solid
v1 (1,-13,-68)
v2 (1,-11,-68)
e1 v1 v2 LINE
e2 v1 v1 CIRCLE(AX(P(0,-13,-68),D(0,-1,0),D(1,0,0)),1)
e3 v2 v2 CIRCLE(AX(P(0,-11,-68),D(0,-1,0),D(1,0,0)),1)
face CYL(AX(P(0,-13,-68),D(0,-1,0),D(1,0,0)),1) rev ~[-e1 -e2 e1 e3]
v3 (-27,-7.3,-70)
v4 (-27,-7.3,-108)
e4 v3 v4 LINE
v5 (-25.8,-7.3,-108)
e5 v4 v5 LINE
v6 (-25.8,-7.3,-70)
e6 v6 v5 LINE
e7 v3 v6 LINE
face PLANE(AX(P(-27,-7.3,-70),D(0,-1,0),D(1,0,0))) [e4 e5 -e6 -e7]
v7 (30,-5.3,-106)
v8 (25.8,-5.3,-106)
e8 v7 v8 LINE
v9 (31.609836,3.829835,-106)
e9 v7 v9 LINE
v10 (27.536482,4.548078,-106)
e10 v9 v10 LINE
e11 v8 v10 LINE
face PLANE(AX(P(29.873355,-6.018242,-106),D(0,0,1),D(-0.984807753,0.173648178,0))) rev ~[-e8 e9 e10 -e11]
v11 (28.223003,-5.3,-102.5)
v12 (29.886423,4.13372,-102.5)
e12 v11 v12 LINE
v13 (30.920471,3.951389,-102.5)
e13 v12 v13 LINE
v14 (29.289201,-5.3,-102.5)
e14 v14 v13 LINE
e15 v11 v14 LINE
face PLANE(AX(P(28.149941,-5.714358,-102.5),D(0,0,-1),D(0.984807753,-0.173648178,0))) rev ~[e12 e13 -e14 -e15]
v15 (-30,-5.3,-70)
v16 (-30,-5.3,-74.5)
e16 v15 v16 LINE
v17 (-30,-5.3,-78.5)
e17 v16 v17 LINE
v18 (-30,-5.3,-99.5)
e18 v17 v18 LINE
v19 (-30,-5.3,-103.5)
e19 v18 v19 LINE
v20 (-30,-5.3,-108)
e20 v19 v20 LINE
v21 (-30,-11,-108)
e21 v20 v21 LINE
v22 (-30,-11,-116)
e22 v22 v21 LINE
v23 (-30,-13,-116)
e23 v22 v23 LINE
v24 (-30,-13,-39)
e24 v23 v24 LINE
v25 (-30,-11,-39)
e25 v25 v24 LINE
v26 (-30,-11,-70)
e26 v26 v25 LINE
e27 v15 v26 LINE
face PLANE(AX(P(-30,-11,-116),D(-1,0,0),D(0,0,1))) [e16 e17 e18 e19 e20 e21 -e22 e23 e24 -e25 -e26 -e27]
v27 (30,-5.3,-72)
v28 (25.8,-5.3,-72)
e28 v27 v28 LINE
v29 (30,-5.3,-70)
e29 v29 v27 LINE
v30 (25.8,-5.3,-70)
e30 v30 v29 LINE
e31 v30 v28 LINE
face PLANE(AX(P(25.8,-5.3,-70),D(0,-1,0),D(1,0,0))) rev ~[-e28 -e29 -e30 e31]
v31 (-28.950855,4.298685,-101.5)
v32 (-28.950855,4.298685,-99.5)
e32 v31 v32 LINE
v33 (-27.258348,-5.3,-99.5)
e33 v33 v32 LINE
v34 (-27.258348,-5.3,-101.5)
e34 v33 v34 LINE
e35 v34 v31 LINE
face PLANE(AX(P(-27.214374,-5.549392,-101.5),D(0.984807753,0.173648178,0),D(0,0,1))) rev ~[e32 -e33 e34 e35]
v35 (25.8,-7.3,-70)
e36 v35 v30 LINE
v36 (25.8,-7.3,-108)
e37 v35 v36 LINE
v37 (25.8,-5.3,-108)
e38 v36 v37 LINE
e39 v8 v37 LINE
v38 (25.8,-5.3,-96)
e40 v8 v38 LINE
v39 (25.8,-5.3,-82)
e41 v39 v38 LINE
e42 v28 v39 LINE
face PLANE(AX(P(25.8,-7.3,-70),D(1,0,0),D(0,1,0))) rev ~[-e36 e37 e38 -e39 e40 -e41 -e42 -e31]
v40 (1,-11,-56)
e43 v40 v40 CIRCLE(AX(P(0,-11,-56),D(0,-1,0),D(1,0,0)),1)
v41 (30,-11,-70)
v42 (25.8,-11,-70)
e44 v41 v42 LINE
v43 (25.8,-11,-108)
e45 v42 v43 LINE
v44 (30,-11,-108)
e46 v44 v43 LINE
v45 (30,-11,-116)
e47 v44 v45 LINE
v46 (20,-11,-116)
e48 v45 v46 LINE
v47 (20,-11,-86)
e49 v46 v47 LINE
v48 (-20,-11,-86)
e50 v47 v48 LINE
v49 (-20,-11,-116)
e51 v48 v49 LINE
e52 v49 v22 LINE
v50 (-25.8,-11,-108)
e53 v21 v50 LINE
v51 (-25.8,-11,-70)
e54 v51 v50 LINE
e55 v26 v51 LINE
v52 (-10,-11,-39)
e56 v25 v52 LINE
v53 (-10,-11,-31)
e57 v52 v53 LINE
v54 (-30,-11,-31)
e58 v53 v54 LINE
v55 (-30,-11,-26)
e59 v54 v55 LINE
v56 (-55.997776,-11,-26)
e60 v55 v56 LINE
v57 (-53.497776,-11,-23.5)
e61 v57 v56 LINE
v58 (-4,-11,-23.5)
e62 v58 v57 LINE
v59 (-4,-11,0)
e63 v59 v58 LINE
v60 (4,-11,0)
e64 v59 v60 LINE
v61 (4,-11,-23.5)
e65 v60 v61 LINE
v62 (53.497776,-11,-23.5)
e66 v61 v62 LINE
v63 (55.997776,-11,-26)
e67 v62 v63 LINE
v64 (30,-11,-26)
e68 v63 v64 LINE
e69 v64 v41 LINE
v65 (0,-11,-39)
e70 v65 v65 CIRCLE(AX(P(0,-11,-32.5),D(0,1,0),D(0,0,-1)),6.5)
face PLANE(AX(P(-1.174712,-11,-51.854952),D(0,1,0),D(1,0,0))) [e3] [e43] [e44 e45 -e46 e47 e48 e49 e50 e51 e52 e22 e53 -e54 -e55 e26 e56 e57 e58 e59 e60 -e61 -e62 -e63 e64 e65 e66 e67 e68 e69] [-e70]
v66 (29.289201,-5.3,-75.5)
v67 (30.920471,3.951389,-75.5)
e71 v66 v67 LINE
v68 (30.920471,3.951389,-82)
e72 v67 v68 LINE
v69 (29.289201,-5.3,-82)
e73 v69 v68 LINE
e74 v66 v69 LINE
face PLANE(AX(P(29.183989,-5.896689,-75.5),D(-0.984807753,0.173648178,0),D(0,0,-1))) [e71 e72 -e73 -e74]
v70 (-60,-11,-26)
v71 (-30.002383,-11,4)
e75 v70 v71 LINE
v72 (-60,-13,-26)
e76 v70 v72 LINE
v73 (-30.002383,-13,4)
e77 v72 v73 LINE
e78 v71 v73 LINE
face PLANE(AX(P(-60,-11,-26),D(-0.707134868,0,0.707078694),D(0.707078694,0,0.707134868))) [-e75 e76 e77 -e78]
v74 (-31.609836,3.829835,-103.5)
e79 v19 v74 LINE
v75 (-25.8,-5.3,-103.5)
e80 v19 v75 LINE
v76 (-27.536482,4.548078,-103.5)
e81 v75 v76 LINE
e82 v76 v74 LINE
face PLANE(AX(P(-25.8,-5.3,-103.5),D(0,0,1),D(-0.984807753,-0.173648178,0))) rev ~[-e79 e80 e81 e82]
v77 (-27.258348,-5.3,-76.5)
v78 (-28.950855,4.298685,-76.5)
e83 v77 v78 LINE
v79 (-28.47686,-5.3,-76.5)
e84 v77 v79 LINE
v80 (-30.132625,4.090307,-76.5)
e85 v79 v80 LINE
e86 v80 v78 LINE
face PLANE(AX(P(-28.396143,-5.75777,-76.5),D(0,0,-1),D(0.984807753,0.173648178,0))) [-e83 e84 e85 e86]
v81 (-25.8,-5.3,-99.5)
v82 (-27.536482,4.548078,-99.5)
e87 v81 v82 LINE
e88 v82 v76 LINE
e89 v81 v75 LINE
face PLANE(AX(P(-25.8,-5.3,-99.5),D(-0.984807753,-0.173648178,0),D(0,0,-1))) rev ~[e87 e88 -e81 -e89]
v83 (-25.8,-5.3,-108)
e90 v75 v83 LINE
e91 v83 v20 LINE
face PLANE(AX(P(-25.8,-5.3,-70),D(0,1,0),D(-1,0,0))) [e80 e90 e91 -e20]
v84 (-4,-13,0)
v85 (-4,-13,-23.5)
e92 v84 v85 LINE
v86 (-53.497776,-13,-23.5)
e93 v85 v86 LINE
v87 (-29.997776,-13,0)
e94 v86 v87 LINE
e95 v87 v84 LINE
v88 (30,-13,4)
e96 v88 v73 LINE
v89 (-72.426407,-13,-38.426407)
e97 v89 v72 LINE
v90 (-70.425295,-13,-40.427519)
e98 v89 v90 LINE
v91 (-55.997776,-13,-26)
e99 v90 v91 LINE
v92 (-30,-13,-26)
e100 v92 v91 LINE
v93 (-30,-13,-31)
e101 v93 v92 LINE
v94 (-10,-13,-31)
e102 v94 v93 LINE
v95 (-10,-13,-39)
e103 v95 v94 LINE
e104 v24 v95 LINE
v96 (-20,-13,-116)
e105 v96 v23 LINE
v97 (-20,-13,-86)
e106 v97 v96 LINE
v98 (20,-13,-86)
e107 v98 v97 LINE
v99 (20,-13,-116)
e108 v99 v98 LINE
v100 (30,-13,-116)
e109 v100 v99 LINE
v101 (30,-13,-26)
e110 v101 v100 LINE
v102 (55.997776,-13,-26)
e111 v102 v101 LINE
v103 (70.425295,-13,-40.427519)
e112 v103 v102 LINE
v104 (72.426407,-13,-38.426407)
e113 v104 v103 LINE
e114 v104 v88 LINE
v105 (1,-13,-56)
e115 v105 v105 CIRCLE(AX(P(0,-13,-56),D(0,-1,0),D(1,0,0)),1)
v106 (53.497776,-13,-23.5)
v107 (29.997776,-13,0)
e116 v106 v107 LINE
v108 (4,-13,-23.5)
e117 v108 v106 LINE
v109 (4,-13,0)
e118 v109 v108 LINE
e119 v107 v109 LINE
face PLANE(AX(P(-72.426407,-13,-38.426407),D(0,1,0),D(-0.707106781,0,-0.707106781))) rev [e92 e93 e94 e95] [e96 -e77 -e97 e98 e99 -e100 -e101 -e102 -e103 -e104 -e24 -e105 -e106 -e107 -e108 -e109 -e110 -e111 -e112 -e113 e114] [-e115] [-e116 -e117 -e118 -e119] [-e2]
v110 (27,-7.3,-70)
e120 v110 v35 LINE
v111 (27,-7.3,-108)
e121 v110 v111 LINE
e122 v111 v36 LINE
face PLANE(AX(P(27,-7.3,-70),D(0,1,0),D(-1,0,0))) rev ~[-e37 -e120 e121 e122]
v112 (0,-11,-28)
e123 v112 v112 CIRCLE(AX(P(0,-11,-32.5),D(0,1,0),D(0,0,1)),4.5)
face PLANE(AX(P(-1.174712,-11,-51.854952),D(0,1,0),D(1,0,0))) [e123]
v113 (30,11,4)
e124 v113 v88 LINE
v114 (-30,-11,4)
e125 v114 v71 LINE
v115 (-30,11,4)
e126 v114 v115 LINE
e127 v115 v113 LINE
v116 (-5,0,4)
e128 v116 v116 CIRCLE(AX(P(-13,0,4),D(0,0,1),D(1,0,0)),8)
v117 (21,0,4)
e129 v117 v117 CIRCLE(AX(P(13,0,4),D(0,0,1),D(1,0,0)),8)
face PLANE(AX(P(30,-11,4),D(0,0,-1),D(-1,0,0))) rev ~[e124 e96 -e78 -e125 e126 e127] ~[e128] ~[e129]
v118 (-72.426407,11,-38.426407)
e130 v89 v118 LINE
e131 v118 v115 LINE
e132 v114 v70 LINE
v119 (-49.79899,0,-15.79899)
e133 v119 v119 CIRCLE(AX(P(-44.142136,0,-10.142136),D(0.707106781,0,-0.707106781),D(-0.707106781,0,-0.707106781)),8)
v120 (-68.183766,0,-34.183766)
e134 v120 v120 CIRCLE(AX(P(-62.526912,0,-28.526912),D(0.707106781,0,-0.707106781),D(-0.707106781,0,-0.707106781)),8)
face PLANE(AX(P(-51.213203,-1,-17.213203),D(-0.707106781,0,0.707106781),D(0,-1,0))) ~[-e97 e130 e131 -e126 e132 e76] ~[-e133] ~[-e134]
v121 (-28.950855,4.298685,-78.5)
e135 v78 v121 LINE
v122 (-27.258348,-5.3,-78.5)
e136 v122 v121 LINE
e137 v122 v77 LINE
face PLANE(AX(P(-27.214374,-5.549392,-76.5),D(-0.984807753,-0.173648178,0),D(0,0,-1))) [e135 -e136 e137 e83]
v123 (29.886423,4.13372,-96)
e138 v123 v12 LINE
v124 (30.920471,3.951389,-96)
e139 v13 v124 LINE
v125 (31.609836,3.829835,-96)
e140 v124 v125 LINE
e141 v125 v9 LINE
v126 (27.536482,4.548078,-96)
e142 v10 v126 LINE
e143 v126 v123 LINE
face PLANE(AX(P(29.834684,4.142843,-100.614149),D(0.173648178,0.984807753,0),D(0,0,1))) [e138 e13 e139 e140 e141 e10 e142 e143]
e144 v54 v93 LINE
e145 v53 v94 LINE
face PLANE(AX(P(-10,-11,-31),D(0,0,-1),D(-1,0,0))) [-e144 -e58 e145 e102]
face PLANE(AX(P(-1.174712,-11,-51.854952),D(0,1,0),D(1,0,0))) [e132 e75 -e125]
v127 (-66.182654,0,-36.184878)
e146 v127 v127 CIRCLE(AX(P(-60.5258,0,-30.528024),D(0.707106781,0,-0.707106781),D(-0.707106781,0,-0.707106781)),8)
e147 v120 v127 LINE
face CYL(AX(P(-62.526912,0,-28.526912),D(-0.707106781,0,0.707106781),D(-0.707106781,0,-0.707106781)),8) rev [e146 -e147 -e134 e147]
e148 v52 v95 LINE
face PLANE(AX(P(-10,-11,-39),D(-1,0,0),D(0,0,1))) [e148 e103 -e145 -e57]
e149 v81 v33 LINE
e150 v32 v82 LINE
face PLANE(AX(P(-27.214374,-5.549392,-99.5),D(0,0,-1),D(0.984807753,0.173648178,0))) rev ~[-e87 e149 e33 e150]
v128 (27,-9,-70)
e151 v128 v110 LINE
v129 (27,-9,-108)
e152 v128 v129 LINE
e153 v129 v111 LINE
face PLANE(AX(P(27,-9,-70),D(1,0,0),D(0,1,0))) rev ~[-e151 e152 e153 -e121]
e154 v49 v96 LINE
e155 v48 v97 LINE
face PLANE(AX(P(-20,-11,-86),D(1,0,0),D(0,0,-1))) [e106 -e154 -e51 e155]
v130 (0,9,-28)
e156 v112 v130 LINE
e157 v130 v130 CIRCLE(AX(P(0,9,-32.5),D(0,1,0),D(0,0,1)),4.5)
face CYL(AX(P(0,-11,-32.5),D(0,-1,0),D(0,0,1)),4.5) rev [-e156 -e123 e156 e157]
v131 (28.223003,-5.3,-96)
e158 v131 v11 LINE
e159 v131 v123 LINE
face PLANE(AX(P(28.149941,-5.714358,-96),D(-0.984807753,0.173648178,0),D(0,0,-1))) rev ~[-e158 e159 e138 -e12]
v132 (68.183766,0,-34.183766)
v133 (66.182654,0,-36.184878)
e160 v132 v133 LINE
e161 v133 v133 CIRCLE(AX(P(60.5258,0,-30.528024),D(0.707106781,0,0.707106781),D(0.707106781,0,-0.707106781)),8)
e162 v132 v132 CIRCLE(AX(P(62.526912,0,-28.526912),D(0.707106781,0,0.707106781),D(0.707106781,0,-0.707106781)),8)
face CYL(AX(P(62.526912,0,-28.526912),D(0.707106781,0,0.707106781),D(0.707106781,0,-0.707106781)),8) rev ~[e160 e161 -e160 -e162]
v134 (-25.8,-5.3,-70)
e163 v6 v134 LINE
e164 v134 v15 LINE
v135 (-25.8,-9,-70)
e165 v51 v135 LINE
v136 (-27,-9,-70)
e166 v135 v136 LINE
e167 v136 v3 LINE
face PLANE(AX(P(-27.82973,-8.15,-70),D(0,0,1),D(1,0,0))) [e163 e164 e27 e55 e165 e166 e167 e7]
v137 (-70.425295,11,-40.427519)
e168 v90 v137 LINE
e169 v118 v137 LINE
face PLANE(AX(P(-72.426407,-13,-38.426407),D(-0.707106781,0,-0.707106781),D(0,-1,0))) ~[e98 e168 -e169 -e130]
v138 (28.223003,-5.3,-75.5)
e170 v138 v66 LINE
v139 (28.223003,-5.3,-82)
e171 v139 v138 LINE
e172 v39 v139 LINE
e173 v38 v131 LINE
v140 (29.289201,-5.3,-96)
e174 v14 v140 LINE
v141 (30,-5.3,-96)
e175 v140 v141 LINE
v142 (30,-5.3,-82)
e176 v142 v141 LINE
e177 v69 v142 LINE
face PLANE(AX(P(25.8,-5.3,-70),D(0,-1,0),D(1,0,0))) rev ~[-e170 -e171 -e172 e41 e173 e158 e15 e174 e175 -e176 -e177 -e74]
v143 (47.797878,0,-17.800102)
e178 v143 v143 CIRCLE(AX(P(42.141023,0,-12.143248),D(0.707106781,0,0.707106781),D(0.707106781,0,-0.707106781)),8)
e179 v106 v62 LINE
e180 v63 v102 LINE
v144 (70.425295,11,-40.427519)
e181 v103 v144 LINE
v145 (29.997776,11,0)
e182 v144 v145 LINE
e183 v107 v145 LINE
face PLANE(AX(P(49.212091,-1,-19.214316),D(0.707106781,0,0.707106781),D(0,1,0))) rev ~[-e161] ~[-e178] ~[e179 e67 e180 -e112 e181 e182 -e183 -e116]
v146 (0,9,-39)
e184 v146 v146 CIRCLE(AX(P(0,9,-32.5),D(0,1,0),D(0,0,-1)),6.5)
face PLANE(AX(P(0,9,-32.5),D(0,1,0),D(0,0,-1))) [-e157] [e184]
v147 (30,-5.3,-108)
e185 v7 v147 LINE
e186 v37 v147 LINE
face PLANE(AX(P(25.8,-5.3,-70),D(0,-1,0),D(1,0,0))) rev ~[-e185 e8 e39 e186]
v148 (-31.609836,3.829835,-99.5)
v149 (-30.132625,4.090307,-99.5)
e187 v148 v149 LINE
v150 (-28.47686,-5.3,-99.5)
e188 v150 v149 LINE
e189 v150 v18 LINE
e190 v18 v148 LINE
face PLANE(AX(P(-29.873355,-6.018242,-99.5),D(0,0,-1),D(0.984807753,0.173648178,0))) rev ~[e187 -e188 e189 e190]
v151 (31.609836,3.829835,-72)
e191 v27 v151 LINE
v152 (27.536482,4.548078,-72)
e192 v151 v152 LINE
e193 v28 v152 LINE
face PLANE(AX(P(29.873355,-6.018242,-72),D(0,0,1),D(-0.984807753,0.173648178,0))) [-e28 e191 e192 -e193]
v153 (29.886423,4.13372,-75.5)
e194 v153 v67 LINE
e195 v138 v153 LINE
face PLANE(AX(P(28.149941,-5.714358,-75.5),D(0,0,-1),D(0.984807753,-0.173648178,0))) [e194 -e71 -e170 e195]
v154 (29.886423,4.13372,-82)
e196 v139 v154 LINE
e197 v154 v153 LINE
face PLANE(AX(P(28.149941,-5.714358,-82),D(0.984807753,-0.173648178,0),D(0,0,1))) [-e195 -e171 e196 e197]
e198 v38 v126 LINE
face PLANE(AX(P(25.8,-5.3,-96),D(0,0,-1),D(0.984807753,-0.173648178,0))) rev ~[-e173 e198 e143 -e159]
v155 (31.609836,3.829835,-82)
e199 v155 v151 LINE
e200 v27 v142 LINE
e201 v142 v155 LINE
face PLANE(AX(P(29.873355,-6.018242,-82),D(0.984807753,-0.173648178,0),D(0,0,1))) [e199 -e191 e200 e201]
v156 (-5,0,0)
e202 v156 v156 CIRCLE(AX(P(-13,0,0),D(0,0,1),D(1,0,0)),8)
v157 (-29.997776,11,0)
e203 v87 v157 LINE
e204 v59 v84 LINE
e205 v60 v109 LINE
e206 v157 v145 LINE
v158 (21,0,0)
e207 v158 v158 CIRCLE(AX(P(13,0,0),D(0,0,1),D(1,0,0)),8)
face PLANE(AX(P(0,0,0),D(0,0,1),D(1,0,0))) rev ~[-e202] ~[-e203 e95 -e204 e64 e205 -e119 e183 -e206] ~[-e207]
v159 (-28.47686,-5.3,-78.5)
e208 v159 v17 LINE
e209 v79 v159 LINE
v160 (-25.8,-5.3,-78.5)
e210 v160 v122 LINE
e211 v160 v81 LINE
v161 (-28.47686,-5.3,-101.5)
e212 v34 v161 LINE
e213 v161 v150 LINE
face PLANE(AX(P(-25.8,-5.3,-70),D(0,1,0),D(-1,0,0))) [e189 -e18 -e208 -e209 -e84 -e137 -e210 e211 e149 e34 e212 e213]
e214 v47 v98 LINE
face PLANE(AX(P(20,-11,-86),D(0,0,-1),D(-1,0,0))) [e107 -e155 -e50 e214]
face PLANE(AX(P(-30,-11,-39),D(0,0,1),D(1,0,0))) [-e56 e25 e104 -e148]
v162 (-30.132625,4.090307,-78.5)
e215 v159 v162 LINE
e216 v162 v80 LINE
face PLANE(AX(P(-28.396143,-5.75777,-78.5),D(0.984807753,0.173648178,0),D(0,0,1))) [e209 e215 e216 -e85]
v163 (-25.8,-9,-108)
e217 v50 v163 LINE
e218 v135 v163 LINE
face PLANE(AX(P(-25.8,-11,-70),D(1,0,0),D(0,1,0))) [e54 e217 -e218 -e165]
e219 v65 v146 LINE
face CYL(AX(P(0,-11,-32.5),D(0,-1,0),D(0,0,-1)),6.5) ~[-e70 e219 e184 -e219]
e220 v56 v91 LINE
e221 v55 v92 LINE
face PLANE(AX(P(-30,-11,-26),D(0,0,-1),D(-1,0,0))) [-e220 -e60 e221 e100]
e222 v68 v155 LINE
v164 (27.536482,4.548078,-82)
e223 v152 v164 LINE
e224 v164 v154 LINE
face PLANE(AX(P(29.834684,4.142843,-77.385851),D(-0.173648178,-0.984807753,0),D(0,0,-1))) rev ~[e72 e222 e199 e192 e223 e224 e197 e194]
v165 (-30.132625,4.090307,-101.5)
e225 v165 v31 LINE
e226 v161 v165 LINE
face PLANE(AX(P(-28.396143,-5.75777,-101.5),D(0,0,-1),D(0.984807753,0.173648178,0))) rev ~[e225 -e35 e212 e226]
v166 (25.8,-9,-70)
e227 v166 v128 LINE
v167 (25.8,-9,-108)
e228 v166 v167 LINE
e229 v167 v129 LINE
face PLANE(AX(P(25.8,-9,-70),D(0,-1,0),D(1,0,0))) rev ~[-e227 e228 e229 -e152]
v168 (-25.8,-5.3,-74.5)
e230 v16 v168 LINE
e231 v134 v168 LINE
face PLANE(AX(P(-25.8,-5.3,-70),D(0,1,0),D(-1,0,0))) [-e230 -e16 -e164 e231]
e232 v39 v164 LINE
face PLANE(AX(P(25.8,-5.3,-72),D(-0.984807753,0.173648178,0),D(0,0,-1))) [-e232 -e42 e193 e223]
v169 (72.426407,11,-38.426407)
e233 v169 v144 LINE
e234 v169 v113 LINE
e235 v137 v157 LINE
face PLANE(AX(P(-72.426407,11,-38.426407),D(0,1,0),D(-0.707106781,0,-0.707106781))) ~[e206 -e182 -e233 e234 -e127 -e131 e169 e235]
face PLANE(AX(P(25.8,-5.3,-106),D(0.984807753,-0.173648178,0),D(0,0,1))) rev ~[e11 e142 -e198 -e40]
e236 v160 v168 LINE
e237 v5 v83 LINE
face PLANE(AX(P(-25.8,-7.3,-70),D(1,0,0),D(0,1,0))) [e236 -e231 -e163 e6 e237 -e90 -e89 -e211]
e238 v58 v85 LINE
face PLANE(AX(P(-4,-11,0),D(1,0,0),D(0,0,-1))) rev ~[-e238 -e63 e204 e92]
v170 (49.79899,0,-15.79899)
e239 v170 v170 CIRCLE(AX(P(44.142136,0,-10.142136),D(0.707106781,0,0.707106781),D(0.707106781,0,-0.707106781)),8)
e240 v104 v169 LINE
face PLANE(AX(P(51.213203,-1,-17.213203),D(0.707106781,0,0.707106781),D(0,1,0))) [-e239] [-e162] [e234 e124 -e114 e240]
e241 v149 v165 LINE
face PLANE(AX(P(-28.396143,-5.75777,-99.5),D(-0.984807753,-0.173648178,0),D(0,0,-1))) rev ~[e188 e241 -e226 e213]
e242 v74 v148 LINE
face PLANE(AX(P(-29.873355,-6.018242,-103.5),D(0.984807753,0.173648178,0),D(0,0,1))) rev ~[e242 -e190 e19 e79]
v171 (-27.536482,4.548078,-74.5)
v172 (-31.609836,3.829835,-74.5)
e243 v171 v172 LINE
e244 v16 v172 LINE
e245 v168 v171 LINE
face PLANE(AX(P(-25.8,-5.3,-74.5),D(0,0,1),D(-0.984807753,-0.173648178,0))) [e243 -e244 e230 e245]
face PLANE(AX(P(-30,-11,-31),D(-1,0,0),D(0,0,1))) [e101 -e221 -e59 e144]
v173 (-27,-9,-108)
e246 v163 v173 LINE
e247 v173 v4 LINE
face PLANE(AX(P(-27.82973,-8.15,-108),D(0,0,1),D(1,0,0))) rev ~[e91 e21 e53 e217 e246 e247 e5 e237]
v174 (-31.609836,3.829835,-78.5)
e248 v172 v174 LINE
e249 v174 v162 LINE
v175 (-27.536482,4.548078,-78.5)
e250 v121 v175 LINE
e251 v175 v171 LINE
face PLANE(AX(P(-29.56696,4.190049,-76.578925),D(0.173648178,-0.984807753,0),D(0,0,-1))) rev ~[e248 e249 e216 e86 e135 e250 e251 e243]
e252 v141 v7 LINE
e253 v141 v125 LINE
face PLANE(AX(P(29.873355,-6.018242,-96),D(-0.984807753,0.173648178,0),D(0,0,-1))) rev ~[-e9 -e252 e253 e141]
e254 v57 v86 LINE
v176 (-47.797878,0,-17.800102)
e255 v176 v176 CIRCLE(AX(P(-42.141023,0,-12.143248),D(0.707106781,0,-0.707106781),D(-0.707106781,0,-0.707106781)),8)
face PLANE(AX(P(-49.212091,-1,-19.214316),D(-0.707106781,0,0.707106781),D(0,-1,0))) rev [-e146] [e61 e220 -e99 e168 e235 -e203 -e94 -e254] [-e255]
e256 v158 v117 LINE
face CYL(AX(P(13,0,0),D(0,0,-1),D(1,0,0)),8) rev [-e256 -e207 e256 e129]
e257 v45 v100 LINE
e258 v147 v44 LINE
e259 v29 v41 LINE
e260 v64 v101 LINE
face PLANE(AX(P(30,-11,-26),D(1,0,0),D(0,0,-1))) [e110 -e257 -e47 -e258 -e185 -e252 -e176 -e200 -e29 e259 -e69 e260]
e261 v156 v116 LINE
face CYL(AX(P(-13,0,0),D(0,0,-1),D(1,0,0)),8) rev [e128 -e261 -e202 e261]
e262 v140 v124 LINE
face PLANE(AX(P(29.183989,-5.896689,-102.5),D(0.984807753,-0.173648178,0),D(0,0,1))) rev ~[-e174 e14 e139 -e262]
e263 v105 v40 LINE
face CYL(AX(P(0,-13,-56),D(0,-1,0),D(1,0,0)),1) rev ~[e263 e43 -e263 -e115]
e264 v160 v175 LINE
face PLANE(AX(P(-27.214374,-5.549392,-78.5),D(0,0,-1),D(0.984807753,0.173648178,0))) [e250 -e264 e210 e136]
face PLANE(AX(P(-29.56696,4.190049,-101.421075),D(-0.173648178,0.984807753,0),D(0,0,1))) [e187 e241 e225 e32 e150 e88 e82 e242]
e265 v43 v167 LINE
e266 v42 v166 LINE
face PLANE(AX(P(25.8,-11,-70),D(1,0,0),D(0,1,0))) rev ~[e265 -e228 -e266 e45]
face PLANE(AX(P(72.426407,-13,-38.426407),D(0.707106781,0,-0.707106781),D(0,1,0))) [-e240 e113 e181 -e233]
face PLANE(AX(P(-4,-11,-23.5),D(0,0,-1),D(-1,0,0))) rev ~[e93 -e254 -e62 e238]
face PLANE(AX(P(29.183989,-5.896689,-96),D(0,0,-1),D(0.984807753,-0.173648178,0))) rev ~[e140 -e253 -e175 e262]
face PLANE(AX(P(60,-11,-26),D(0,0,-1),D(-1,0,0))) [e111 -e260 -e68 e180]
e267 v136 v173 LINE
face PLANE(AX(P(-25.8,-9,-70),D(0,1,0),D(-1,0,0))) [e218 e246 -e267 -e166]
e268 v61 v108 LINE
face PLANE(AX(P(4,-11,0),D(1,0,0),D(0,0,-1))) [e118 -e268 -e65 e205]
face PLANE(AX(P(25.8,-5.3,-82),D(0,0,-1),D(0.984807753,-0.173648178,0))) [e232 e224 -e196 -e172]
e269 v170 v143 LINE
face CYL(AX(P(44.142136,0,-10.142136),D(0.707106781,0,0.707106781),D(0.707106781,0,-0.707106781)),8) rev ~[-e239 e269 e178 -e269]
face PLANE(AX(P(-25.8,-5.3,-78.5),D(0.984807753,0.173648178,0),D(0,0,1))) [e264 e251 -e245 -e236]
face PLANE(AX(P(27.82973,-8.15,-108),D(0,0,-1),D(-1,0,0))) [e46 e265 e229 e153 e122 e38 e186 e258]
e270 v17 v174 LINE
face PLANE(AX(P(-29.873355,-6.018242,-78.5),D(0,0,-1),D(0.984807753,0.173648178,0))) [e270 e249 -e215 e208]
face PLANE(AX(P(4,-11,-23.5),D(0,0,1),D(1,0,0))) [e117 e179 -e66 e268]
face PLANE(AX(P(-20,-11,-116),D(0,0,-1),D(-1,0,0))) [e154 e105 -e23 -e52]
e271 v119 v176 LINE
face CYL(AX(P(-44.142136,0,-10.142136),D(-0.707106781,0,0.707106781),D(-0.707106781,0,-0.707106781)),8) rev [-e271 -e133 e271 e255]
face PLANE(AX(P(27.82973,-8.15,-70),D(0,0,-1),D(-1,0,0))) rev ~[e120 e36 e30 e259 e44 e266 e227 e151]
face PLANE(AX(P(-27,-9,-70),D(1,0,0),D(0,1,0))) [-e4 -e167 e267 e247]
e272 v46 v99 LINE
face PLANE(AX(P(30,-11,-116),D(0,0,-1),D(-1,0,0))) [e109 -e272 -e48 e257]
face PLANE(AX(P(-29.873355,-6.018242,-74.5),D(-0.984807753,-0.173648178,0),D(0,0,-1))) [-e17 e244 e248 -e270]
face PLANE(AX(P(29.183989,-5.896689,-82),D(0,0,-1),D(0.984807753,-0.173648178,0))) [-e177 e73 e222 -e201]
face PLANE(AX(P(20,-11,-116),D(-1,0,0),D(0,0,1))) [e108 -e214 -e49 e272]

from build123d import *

# Parameters (mm, degrees)
SKETCH1_W           = 60
SKETCH1_H           = 22
SKETCH1_R           = 8
BOSS_EXTRUDE1_DEPTH = 4
BOSS_EXTRUDE2_DEPTH = 2
BOSS_EXTRUDE3_START = -70
BOSS_EXTRUDE3_DEPTH = 38
BOSS_EXTRUDE5_DEPTH = 10
BOSS_EXTRUDE6_DEPTH = 10
SKETCH10_R          = 1
CUT_EXTRUDE1_DEPTH  = 4
SKETCH12_W          = 24
SKETCH12_H          = 60
SKETCH12_R          = 8
BOSS_EXTRUDE7_DEPTH = 2.83
SKETCH13_R          = 6.5
SKETCH13_R_2        = 4.5
BOSS_EXTRUDE8_DEPTH = 20


with BuildPart() as part:
    # Sketch1 → Boss-Extrude1 (new body)
    with BuildSketch(Plane.XY):
        Rectangle(SKETCH1_W, SKETCH1_H)
        with Locations((-13, 0)):
            Circle(SKETCH1_R, mode=Mode.SUBTRACT)
        with Locations((13, 0)):
            Circle(SKETCH1_R, mode=Mode.SUBTRACT)
    extrude(amount=BOSS_EXTRUDE1_DEPTH)

    # Sketch2 → Boss-Extrude2 (add)
    with BuildSketch(Plane(origin=(0, -11, 0), x_dir=(-1, 0, 0), z_dir=(0, -1, 0))):
        Polygon((-30, 116), (-20, 116), (-20, 86), (20, 86), (20, 116), (30, 116), (30, 39), (10, 39), (10, 31), (30, 31), (30, 26), (60, 26), (30.002383175, -4), (30, -4), (-30, -4), (-60, 26), (-30, 26), align=None)
        Polygon((-53.5, 23.5), (-30, 0), (-4, 0), (-4, 23.5), align=None, mode=Mode.SUBTRACT)
        Polygon((53.49813318, 23.5), (30, 0), (4, 0), (4, 23.5), align=None, mode=Mode.SUBTRACT)
    extrude(amount=BOSS_EXTRUDE2_DEPTH)

    # Sketch4 → Boss-Extrude3 (add)
    with BuildSketch(Plane.XY.offset(BOSS_EXTRUDE3_START)):
        Polygon((-25.8, -11), (-25.8, -9), (-27, -9), (-27, -7.3), (-25.8, -7.3), (-25.8, -5.3), (-30, -5.3), (-30, -11), align=None)
        Polygon((30, -5.3), (30, -11), (25.8, -11), (25.8, -9), (27, -9), (27, -7.3), (25.8, -7.3), (25.8, -5.3), align=None)
    extrude(amount=-BOSS_EXTRUDE3_DEPTH)

    # Sketch7 → Boss-Extrude5 (add)
    with BuildSketch(Plane(origin=(0.128388188, -0.728125596, 0), x_dir=(0, 0, 1), z_dir=(-0.17364817766693402, 0.9848077530122075, 0))):
        Polygon((-74.5, -26.328375369), (-74.5, -30.464567932), (-78.5, -30.464567932), (-78.5, -28.964567932), (-76.5, -28.964567932), (-76.5, -27.764567932), (-78.5, -27.764567932), (-78.5, -26.328375369), align=None)
        Polygon((-101.5, -27.764567932), (-99.5, -27.764567932), (-99.5, -26.328375369), (-103.5, -26.328375369), (-103.5, -30.464567932), (-99.5, -30.464567932), (-99.5, -28.964567932), (-101.5, -28.964567932), align=None)
    extrude(amount=BOSS_EXTRUDE5_DEPTH)

    # Sketch8 → Boss-Extrude6 (add)
    with BuildSketch(Plane(origin=(-0.128388188, -0.728125596, 0), x_dir=(0, 0, 1), z_dir=(0.17364817766692736, 0.9848077530122086, 0))):
        Polygon((-82, 26.328375369), (-82, 28.714567932), (-75.5, 28.714567932), (-75.5, 29.764567932), (-82, 29.764567932), (-82, 30.464567932), (-72, 30.464567932), (-72, 26.328375369), align=None)
        Polygon((-96, 29.764567932), (-96, 30.464567932), (-106, 30.464567932), (-106, 26.328375369), (-96, 26.328375369), (-96, 28.714567932), (-102.5, 28.714567932), (-102.5, 29.764567932), align=None)
    extrude(amount=BOSS_EXTRUDE6_DEPTH)

    # Sketch10 → Cut-Extrude1 (cut)
    with BuildSketch(Plane.XZ.offset(13)):
        with Locations((0, -56)):
            Circle(SKETCH10_R)
        with Locations((0, -68)):
            Circle(SKETCH10_R)
    extrude(amount=-CUT_EXTRUDE1_DEPTH, mode=Mode.SUBTRACT)

    # Sketch12 → Boss-Extrude7 (add)
    with BuildSketch(Plane(origin=(17, 0, 17), x_dir=(0, 1, 0), z_dir=(0.7071067811865561, 0, 0.7071067811865389))):
        with Locations((-1, -48.384776311)):
            Rectangle(SKETCH12_W, SKETCH12_H)
        with Locations((0, -38.384776311)):
            Circle(SKETCH12_R, mode=Mode.SUBTRACT)
        with Locations((0, -64.384776311)):
            Circle(SKETCH12_R, mode=Mode.SUBTRACT)
    boss_extrude7 = extrude(amount=-BOSS_EXTRUDE7_DEPTH)

    # Mirror2: Boss-Extrude7 across plane
    add(boss_extrude7.mirror(Plane(origin=(0, 0, 0), x_dir=(0, 0, 1), z_dir=(1, 0, 0))))

    # Sketch13 → Boss-Extrude8 (add)
    with BuildSketch(Plane(origin=(0, -11, 0), x_dir=(1, 0, 0), z_dir=(0, 1, 0))):
        with Locations((0, 32.5)):
            Circle(SKETCH13_R)
        with Locations((0, 32.5)):
            Circle(SKETCH13_R_2, mode=Mode.SUBTRACT)
    extrude(amount=BOSS_EXTRUDE8_DEPTH)


solid = part.part
